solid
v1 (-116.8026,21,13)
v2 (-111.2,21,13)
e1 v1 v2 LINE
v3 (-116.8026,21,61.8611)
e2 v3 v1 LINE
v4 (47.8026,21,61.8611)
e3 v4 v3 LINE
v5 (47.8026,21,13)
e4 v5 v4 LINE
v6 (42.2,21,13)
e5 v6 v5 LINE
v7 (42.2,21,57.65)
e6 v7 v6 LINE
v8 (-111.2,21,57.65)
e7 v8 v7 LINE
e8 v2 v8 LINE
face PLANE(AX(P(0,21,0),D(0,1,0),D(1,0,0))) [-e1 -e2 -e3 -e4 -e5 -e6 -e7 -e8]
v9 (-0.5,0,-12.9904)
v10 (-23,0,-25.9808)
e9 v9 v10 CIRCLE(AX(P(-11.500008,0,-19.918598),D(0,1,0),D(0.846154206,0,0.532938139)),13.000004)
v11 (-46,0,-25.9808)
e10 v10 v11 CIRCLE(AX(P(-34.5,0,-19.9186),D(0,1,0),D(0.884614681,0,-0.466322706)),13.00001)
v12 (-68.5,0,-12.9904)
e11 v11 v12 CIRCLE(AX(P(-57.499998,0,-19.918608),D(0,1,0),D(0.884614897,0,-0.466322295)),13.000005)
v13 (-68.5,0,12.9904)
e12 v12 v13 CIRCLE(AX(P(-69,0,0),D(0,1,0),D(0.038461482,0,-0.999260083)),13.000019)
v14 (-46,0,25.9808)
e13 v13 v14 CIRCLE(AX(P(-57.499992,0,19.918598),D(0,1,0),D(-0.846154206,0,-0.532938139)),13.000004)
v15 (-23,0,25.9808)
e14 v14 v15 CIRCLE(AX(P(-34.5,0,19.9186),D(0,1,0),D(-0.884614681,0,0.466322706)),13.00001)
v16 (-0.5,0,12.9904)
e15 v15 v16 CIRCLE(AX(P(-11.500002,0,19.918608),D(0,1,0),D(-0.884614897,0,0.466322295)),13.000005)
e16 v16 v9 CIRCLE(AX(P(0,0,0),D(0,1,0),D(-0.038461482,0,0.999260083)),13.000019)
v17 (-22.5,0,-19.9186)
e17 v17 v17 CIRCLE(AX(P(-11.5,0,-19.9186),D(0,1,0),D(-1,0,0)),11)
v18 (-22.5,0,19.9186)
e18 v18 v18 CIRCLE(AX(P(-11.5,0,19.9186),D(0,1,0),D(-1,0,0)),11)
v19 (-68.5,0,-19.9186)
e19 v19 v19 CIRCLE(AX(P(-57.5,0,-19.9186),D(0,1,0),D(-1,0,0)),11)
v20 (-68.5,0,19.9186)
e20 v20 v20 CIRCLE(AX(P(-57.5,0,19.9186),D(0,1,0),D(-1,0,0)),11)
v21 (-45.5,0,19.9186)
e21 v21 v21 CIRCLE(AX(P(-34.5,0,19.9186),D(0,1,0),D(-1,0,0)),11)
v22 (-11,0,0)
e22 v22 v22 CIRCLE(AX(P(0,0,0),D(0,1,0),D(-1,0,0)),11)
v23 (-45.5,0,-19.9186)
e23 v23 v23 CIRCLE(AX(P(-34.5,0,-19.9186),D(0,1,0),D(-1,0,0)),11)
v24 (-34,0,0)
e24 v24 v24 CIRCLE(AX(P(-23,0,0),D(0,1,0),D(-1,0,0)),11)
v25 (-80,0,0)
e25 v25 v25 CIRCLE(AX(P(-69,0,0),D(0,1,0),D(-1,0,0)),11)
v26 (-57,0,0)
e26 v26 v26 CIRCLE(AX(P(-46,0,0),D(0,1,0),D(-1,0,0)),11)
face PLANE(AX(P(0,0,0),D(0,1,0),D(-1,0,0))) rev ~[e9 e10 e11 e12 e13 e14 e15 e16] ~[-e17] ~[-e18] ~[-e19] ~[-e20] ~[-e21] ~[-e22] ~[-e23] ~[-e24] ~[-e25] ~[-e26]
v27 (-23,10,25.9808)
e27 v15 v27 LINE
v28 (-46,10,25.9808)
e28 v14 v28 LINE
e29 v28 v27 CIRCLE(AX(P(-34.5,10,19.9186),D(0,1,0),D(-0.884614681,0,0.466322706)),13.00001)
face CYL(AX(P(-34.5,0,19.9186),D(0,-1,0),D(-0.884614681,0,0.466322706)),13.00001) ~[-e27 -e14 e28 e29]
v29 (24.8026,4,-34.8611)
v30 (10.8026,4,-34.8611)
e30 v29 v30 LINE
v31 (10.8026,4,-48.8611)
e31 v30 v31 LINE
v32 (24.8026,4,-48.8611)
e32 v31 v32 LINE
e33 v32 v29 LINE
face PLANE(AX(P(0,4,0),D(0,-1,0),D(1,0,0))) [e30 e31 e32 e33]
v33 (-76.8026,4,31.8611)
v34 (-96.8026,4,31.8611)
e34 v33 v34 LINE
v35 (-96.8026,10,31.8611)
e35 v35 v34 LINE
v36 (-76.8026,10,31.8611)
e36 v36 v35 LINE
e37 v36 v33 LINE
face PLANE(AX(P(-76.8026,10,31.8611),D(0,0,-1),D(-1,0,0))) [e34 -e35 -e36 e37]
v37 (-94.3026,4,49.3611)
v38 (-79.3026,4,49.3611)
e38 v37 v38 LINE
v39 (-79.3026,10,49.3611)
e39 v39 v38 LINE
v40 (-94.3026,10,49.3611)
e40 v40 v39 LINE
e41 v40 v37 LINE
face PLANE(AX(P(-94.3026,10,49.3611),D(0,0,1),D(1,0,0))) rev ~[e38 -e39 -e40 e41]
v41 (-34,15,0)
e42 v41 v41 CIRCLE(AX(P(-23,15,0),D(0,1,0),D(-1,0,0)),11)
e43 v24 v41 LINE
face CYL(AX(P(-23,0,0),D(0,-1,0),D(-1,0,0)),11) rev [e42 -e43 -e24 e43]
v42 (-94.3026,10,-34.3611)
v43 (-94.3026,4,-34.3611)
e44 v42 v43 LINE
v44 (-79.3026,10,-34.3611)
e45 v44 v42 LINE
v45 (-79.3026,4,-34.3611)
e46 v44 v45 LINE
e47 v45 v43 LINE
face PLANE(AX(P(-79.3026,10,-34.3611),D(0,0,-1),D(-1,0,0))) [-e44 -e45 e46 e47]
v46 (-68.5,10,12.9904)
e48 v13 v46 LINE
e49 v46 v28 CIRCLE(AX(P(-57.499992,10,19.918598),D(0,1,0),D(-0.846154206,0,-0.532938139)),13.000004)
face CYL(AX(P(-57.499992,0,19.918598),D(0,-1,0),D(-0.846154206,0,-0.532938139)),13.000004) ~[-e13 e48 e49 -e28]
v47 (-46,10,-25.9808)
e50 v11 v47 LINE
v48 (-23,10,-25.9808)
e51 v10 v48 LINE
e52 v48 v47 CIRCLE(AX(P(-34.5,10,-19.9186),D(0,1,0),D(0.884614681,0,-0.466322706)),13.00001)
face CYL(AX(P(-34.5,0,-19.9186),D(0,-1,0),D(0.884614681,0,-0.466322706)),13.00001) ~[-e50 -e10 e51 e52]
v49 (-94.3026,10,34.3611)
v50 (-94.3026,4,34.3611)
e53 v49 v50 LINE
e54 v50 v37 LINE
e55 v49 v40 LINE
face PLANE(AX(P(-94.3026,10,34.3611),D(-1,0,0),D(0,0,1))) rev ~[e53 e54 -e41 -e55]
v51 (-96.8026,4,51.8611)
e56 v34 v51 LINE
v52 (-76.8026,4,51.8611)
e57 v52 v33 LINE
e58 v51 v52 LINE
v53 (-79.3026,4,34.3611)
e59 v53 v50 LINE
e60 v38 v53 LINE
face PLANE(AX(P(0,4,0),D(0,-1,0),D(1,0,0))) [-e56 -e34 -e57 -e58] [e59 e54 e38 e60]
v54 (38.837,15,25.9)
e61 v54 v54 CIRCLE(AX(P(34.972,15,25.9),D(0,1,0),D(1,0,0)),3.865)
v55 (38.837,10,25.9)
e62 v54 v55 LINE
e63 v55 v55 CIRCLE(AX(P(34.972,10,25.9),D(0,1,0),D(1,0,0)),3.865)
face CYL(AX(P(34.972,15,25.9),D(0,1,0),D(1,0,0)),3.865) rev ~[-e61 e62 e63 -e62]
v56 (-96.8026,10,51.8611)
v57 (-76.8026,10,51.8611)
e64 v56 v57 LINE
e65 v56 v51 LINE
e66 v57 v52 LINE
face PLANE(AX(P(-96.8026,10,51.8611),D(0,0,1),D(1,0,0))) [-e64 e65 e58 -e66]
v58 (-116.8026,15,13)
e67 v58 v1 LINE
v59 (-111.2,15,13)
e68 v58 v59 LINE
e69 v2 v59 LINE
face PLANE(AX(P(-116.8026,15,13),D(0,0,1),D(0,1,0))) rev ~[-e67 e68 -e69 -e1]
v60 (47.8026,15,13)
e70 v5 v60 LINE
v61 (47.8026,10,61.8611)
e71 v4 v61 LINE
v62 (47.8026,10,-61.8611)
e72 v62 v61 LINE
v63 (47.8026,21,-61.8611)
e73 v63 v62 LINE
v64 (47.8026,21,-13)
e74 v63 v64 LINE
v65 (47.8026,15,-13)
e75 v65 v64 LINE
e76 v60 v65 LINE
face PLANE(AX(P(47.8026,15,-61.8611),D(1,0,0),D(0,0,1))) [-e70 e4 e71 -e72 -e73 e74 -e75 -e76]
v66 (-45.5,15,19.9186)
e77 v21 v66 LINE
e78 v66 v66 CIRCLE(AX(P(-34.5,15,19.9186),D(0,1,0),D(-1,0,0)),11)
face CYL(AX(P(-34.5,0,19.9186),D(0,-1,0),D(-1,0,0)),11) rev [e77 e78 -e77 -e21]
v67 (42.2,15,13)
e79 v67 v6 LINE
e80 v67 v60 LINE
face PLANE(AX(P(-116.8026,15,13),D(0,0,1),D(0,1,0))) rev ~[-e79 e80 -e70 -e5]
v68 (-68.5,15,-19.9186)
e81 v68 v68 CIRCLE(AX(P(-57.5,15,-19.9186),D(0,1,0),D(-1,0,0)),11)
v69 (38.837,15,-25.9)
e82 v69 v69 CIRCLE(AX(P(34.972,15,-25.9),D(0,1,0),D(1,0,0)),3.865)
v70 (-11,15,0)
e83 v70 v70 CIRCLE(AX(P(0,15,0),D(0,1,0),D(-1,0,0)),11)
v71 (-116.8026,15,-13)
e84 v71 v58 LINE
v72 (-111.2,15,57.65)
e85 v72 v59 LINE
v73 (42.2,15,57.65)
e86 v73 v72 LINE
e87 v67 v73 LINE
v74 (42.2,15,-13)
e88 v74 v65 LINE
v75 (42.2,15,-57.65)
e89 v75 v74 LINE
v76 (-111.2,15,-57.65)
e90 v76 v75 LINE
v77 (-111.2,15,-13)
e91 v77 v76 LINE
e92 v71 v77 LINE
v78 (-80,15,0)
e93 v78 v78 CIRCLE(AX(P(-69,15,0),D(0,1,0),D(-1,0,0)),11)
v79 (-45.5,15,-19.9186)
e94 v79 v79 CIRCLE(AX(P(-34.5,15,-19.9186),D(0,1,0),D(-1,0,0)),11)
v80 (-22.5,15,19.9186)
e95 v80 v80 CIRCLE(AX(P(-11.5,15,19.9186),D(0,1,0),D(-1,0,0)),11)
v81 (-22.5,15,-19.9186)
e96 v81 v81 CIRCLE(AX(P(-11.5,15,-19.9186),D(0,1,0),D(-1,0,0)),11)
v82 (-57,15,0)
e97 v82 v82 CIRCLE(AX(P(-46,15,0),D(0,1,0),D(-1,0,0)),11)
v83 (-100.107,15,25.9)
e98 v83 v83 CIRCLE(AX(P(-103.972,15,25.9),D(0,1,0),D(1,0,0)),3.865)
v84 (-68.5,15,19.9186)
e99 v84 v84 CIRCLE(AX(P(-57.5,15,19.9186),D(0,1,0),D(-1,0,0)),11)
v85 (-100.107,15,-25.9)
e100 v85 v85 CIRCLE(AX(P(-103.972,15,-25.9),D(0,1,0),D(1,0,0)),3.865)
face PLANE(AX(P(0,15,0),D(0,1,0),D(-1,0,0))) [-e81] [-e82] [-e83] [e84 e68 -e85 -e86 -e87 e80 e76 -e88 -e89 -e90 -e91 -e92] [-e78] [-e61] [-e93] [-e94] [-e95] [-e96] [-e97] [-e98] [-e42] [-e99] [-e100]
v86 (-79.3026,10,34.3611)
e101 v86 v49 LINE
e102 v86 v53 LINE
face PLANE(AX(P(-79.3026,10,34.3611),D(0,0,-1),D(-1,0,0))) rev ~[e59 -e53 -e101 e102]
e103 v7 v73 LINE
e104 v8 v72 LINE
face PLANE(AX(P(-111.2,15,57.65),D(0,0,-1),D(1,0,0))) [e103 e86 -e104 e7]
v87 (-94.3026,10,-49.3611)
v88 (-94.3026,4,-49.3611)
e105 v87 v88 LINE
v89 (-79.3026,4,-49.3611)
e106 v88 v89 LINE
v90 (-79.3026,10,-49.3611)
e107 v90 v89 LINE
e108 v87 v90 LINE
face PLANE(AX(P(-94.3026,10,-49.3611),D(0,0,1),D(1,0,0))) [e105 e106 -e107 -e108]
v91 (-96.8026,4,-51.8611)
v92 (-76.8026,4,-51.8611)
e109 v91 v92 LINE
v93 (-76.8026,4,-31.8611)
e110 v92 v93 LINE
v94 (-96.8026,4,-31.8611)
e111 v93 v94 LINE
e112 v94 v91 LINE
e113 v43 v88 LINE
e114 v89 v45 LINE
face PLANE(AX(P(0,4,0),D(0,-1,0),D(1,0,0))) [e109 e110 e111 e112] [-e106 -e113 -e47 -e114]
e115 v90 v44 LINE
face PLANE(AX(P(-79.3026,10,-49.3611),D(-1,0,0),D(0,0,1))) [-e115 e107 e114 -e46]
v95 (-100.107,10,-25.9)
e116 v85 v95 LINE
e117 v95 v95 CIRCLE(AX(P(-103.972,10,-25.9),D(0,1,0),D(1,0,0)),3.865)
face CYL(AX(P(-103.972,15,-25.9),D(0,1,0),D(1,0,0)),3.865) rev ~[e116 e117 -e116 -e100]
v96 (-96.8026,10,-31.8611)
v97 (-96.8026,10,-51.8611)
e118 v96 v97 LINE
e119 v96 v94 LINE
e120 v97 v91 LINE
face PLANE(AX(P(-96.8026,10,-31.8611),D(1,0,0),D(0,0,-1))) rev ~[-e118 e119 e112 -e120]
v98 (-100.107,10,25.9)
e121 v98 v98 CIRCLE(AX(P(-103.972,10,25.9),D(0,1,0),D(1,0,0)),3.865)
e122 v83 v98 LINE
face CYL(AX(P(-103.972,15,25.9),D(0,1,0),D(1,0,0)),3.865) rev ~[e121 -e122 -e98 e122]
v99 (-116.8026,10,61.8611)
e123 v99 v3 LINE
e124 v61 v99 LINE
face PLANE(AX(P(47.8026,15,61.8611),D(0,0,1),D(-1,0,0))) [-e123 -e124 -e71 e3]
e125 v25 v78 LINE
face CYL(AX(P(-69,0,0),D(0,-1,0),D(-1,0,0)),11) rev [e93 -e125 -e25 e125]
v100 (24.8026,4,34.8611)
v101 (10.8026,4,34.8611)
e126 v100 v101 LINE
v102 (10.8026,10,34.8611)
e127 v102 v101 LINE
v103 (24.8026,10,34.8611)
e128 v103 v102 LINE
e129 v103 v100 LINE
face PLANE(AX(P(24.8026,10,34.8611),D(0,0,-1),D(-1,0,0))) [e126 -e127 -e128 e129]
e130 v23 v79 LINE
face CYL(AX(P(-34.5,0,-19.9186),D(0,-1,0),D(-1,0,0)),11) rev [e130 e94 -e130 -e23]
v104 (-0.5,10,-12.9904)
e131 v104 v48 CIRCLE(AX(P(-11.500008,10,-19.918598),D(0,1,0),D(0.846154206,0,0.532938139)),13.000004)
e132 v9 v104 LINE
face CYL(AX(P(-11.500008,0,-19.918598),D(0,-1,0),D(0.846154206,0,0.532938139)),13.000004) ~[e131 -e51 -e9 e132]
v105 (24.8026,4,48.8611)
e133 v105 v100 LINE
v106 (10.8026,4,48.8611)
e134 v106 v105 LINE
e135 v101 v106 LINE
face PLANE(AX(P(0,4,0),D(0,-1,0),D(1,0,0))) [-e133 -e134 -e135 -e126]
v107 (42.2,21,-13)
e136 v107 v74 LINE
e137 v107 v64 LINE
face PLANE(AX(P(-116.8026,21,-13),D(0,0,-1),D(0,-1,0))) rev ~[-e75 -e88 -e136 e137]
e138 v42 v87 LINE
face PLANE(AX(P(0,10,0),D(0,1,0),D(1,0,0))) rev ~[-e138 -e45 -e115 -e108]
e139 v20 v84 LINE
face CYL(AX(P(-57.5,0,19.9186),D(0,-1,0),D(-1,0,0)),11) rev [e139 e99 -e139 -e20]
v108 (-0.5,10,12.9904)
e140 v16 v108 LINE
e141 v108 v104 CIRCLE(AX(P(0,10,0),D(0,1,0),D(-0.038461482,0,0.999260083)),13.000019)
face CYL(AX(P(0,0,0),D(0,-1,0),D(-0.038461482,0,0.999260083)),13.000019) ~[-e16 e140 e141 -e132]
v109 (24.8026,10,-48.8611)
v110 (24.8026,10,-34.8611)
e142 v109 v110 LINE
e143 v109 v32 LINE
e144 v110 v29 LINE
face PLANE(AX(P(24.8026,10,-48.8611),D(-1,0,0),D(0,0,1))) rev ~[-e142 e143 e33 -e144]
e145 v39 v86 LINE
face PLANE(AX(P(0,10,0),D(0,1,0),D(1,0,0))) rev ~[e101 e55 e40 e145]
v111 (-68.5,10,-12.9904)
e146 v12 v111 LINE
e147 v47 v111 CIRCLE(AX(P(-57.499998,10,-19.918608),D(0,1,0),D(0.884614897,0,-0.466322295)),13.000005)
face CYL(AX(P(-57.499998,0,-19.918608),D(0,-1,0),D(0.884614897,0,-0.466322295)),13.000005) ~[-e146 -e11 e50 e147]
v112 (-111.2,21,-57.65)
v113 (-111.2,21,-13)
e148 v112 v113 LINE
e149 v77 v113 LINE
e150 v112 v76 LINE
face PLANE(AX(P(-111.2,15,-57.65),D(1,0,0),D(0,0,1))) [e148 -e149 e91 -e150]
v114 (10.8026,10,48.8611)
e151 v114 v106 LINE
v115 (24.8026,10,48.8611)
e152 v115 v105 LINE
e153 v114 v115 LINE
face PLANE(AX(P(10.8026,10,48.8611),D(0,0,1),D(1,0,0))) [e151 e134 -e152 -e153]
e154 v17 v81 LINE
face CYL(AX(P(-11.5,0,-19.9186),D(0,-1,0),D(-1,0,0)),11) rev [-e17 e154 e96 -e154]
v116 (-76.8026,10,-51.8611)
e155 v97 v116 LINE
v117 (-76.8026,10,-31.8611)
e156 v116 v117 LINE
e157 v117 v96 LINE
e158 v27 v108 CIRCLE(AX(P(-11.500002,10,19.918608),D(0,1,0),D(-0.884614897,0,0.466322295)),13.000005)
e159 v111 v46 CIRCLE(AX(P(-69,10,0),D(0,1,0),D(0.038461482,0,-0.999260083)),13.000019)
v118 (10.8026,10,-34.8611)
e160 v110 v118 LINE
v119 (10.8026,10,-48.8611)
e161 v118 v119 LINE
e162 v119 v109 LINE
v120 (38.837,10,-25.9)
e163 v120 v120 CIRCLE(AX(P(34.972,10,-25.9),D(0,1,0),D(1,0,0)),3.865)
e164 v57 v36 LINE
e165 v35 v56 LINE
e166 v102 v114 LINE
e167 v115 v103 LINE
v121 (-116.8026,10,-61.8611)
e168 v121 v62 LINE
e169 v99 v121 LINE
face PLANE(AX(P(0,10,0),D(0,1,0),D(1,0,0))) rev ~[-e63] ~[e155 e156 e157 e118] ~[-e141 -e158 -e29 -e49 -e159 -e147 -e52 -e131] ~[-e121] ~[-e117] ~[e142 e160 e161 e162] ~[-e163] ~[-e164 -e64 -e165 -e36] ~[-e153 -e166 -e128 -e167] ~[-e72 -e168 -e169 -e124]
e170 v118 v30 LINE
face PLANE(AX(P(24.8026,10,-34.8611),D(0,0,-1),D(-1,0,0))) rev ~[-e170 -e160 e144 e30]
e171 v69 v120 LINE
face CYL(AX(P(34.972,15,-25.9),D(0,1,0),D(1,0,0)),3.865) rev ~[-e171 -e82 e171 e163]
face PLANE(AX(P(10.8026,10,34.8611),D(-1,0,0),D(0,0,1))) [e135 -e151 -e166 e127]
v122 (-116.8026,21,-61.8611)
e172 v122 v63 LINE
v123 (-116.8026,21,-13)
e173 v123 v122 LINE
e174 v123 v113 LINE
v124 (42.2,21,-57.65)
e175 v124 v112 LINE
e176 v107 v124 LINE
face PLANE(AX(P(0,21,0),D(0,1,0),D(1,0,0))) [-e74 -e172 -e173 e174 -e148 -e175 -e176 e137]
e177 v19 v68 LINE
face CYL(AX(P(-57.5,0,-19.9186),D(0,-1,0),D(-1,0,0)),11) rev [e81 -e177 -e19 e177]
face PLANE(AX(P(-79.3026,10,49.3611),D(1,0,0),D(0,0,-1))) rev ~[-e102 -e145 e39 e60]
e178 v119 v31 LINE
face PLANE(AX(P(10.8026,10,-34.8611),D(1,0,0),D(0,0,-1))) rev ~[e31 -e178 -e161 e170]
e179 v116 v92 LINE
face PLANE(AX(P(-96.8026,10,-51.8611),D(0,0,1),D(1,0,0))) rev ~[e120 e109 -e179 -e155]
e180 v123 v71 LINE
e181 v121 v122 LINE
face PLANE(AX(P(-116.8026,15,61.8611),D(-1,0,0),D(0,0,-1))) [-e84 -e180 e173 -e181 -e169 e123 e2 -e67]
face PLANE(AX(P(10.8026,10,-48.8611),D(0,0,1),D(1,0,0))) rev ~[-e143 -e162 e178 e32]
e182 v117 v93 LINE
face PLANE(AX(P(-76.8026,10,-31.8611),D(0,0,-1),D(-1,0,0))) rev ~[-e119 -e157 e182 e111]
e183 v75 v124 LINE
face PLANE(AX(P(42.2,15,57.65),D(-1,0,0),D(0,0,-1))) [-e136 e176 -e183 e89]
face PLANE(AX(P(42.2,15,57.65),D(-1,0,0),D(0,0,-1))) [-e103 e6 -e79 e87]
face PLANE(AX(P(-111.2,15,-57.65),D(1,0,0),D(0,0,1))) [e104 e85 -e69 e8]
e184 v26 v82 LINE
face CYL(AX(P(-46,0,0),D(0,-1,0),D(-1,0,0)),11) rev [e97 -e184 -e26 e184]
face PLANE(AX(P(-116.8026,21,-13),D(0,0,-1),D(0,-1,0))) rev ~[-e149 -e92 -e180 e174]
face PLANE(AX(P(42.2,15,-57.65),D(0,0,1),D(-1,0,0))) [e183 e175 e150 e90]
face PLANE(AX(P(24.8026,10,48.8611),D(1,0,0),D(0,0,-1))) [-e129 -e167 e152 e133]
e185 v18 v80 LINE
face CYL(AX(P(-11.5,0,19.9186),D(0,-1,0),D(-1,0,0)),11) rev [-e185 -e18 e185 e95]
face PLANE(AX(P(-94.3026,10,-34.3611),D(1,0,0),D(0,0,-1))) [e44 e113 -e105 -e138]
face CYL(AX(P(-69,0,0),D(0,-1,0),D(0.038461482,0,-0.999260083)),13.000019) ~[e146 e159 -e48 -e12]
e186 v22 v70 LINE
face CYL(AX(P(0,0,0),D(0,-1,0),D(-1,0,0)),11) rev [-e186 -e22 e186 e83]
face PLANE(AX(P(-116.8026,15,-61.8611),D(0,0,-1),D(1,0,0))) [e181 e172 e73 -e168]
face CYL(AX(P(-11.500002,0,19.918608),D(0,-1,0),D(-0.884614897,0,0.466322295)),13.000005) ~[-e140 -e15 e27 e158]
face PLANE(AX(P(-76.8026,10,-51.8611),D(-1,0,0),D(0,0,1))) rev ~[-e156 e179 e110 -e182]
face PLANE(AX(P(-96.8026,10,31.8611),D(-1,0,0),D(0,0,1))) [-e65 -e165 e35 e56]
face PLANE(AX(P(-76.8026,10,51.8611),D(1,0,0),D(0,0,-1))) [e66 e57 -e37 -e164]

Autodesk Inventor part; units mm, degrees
ref_plane "YZ Plane" through (0, 0, 0) normal (1, 0, 0) x (0, 1, 0)
ref_plane "XZ Plane" through (0, 0, 0) normal (0, 1, 0) x (-1, 0, 0)
ref_plane "XY Plane" through (0, 0, 0) normal (0, 0, 1) x (1, 0, 0)
sketch "Sketch1" plane through (0, 0, 0) normal (0, 1, 0) x (-1, 0, 0)
  circle A0 centre (0, 0) radius 11
  line L0 (11, 0.0002) -> (12, 0.0002) construction
  circle A1 centre (23, 0) radius 11
  line L1 (34, 0) -> (35, 0) construction
  circle A2 centre (46, 0) radius 11
  line L2 (57, 0) -> (58, 0) construction
  circle A3 centre (69, 0) radius 11
  line L3 (34.5, 0) -> (34.5, -17.154) construction
  line L4 (34.5, 0) -> (34.5, 17.658) construction
  line L5 (55, 12.6387) -> (55, -13.5831) construction
  line L6 (55, 12.6387) -> (55, 17.658) construction
  line L7 (55, -13.5831) -> (55, -17.154) construction
  line L8 (11.5, 0.0002) -> (11.5, -16.2579) construction
  line L9 (11.5, 0.0002) -> (11.5, 19.9186) construction
  circle A4 centre (0, 0) radius 12 construction
  circle A5 centre (23, 0) radius 12 construction
  circle A6 centre (46, 0) radius 12 construction
  circle A7 centre (69, 0) radius 12 construction
  circle A8 centre (11.5, 19.9186) radius 11
  circle A9 centre (34.5, 19.9186) radius 11
  circle A10 centre (11.5, -19.9186) radius 11
  circle A11 centre (57.5, 19.9186) radius 11
  circle A12 centre (57.5, -19.9186) radius 12 construction
  circle A13 centre (34.5, -19.9186) radius 12 construction
  circle A14 centre (11.5, 19.9186) radius 12 construction
  circle A15 centre (34.5, 19.9186) radius 12 construction
  circle A16 centre (57.5, 19.9186) radius 12 construction
  line L10 (11.5, 19.9186) -> (57.5, 19.9186) construction
  arc A17 (2.3131, -12.7926) -> (0.5, -12.9904) centre (0, 0) ccw construction
  circle A18 centre (11.5, 19.9186) radius 13 construction
  circle A19 centre (34.5, 19.9186) radius 13 construction
  circle A20 centre (57.5, 19.9186) radius 13 construction
  circle A21 centre (69, 0) radius 13 construction
  circle A22 centre (57.5, -19.9186) radius 13 construction
  circle A23 centre (34.5, -19.9186) radius 13 construction
  arc A24 (0.5, 12.9904) -> (0.5, -12.9904) centre (0, 0) ccw
  line L11 (57.5, -19.9186) -> (11.5, -19.9186) construction
  circle A25 centre (11.5, -19.9186) radius 13 construction
  arc A26 (0.5, -12.9904) -> (23, -25.9808) centre (11.5, -19.9186) ccw
  arc A27 (23, -25.9808) -> (46, -25.9808) centre (34.5, -19.9186) ccw
  arc A28 (46, -25.9808) -> (68.5, -12.9904) centre (57.5, -19.9186) ccw
  arc A29 (68.5, -12.9904) -> (68.5, 12.9904) centre (69, 0) ccw
  arc A30 (68.5, 12.9904) -> (46, 25.9808) centre (57.5, 19.9186) ccw
  arc A31 (46, 25.9808) -> (23, 25.9808) centre (34.5, 19.9186) ccw
  arc A32 (23, 25.9808) -> (0.5, 12.9904) centre (11.5, 19.9186) ccw
  circle A33 centre (11.5, -19.9186) radius 12 construction
  circle A34 centre (34.5, -19.9186) radius 11
  circle A35 centre (57.5, -19.9186) radius 11
  dimension "d0" = 22
  dimension "d6" = 22
  dimension "d1" = 1
  dimension "d2" = 22
  dimension "d3" = 1
  dimension "d4" = 22
  dimension "d5" = 1
  dimension "d7" = 24
  dimension "d8" = 24
  dimension "d9" = 24
  dimension "d10" = 24
  dimension "d11" = 22
  dimension "d12" = 22
  dimension "d16" = 22
  dimension "d17" = 22
  dimension "d19" = 24
  dimension "d21" = 24
  dimension "d22" = 24
  dimension "d23" = 24
  dimension "d25" = 26
  dimension "d27" = 26
  dimension "d28" = 26
  dimension "d29" = 26
  dimension "d30" = 26
  dimension "d31" = 26
  dimension "d32" = 26
  dimension "d33" = 26
  dimension "d67" = 24
  dimension "d71" = 24
  dimension "d72" = 22
  dimension "d73" = 22
extrude "Extrusion1" add sketch "Sketch1" along normal blind 15
sketch "Sketch2" plane through (0, 15, 0) normal (0, 1, 0) x (1, 0, 0)
  circle A0 centre (-23, 0) radius 11 projected
  circle A1 centre (-46, 0) radius 11 projected
  line L0 (-35, 0) -> (-34, 0) construction
  line L1 (-111.2, 57.65) -> (42.2, 57.65)
  line L2 (42.2, 57.65) -> (42.2, -57.65)
  line L3 (42.2, -57.65) -> (-111.2, -57.65)
  line L4 (-111.2, -57.65) -> (-111.2, 57.65)
  line L5 (-111.2, 57.65) -> (42.2, -57.65) construction
  line L6 (42.2, 57.65) -> (-111.2, -57.65) construction
  arc A2 (-46, 25.9808) -> (-68.5, 12.9904) centre (-57.5, 19.9186) ccw projected
  arc A3 (-23, 25.9808) -> (-46, 25.9808) centre (-34.5, 19.9186) ccw projected
  arc A4 (-0.5, 12.9904) -> (-23, 25.9808) centre (-11.5, 19.9186) ccw projected
  arc A5 (-0.5, -12.9904) -> (-0.5, 12.9904) centre (0, 0) ccw projected
  arc A6 (-23, -25.9808) -> (-0.5, -12.9904) centre (-11.5, -19.9186) ccw projected
  arc A7 (-46, -25.9808) -> (-23, -25.9808) centre (-34.5, -19.9186) ccw projected
  arc A8 (-68.5, -12.9904) -> (-46, -25.9808) centre (-57.5, -19.9186) ccw projected
  arc A9 (-68.5, 12.9904) -> (-68.5, -12.9904) centre (-69, 0) ccw projected
  arc A10 (-69, 13) -> (-68.5, -12.9904) centre (-69, 0) ccw
  arc A11 (-46, 25.9808) -> (-68.5, 12.9904) centre (-57.5, 19.9186) ccw
  arc A12 (-23, 25.9808) -> (-46, 25.9808) centre (-34.5, 19.9186) ccw
  arc A13 (-0.5, 12.9904) -> (-23, 25.9808) centre (-11.5, 19.9186) ccw
  arc A14 (-0.5, -12.9904) -> (-0.5, 12.9904) centre (0, 0) ccw
  arc A15 (-23, -25.9808) -> (-0.5, -12.9904) centre (-11.5, -19.9186) ccw
  arc A16 (-46, -25.9808) -> (-23, -25.9808) centre (-34.5, -19.9186) ccw
  arc A17 (-68.5, -12.9904) -> (-46, -25.9808) centre (-57.5, -19.9186) ccw
  arc A18 (-68.5, 12.9904) -> (-68.5, -12.9904) centre (-69, 0) ccw
  point P0 (-34.5, 0)
  dimension "d36" = 115.3
  dimension "d37" = 153.4
extrude "Extrusion2" add sketch "Sketch2" against normal blind 5 contours L1 L2 L3 L4
sketch "Sketch3" plane through (0, 15, 0) normal (0, 1, 0) x (1, 0, 0)
  line L0 (42.2, 57.65) -> (-111.2, 57.65) projected
  line L1 (42.2, -57.65) -> (42.2, 57.65) projected
  line L2 (-111.2, -57.65) -> (42.2, -57.65) projected
  line L3 (-111.2, 57.65) -> (-111.2, -57.65) projected
  line L4 (-111.2, -57.65) -> (42.2, -57.65) projected
  line L5 (42.2, -57.65) -> (42.2, 57.65) projected
  line L6 (42.2, 57.65) -> (-111.2, 57.65) projected
  line L7 (-111.2, 57.65) -> (-111.2, -57.65) projected
  circle A0 centre (-57.5, -19.9186) radius 11 projected
  circle A1 centre (-11.5, 19.9186) radius 11 projected
  circle A2 centre (-34.5, -19.9186) radius 11 projected
  circle A3 centre (-11.5, -19.9186) radius 11 projected
  circle A4 centre (-69, 0) radius 11 projected
  circle A5 centre (-46, 0) radius 11 projected
  circle A6 centre (-23, 0) radius 11 projected
  circle A7 centre (0, 0) radius 11 projected
  line L8 (-116.8026, 61.8611) -> (47.8026, 61.8611)
  line L9 (47.8026, 61.8611) -> (47.8026, -61.8611)
  line L10 (47.8026, -61.8611) -> (-116.8026, -61.8611)
  line L11 (-116.8026, -61.8611) -> (-116.8026, 61.8611)
  line L12 (-116.8026, 61.8611) -> (47.8026, -61.8611) construction
  line L13 (47.8026, 61.8611) -> (-116.8026, -61.8611) construction
  line L14 (-111.2, -57.65) -> (42.2, -57.65)
  line L15 (42.2, -57.65) -> (42.2, 57.65)
  line L16 (42.2, 57.65) -> (-111.2, 57.65)
  line L17 (-111.2, 57.65) -> (-111.2, -57.65)
  line L18 (-111.2, -57.65) -> (42.2, 57.65) construction
  line L19 (42.2, -57.65) -> (-111.2, 57.65) construction
  point P0 (-34.5, 0)
extrude "Extrusion3" add sketch "Sketch3" along normal blind 6 and the other way blind 5 contours L8 L9 L10 L11
sketch "Sketch4" plane through (0, 15, 0) normal (0, 1, 0) x (1, 0, 0)
  line L0 (-111.2, -57.65) -> (42.2, -57.65) projected
  line L1 (42.2, -57.65) -> (42.2, 57.65) projected
  line L2 (42.2, 57.65) -> (-111.2, 57.65) projected
  line L3 (-111.2, 57.65) -> (-111.2, -57.65) projected
  circle A0 centre (-57.5, -19.9186) radius 11 projected
  circle A1 centre (-11.5, 19.9186) radius 11 projected
  circle A2 centre (-34.5, -19.9186) radius 11 projected
  circle A3 centre (-11.5, -19.9186) radius 11 projected
  circle A4 centre (-69, 0) radius 11 projected
  circle A5 centre (-46, 0) radius 11 projected
  circle A6 centre (-23, 0) radius 11 projected
  circle A7 centre (0, 0) radius 11 projected
  line L4 (-111.2, 57.65) -> (-103.972, 57.65) construction
  line L5 (-103.972, 57.65) -> (-103.972, 25.9) construction
  line L6 (-103.972, 25.9) -> (-111.2, 25.9) construction
  line L7 (-111.2, 25.9) -> (-111.2, 57.65) construction
  line L8 (42.2, 57.65) -> (34.972, 57.65) construction
  line L9 (34.972, 57.65) -> (34.972, 25.9) construction
  line L10 (34.972, 25.9) -> (42.2, 25.9) construction
  line L11 (42.2, 25.9) -> (42.2, 57.65) construction
  line L12 (-111.2, -57.65) -> (-103.972, -57.65) construction
  line L13 (-103.972, -57.65) -> (-103.972, -25.9) construction
  line L14 (-103.972, -25.9) -> (-111.2, -25.9) construction
  line L15 (-111.2, -25.9) -> (-111.2, -57.65) construction
  line L16 (42.2, -25.9) -> (34.972, -25.9) construction
  line L17 (34.972, -25.9) -> (34.972, -57.65) construction
  line L18 (34.972, -57.65) -> (42.2, -57.65) construction
  line L19 (42.2, -57.65) -> (42.2, -25.9) construction
  circle A8 centre (-103.972, 25.9) radius 3.865
  circle A9 centre (34.972, 25.9) radius 3.865
  circle A10 centre (34.972, -25.9) radius 3.865
  circle A11 centre (-103.972, -25.9) radius 3.865
  dimension "d56" = 7.73
  dimension "d57" = 7.73
  dimension "d58" = 7.73
  dimension "d59" = 7.73
  dimension "d62" = 7.228
  dimension "d63" = 31.75
  dimension "d64" = 7.228
  dimension "d65" = 7.228
  dimension "d66" = 31.75
extrude "Extrusion4" cut sketch "Sketch4" against normal through all contours A8 | A9 | A10 | A11
sketch "Sketch5" plane through (-116.8026, 10, 61.8611) normal (-1, 0, 0) x (0, 0, 1)
  line L0 (-74.8611, -12) -> (-74.8611, -2) projected
  line L1 (-48.8611, -12) -> (-48.8611, -2) projected
  line L2 (-119.5111, 5) -> (-4.2111, 5) projected
  line L3 (-123.7222, 11) -> (0, 11) projected
  line L4 (-74.8611, 5) -> (-48.8611, 5)
  line L5 (-48.8611, 5) -> (-48.8611, 11)
  line L6 (-48.8611, 11) -> (-74.8611, 11)
  line L7 (-74.8611, 11) -> (-74.8611, 5)
  point P0 (-61.8611, -10)
  point P1 (-74.8611, 11)
extrude "Extrusion5" cut sketch "Sketch5" against normal through all
sketch "Sketch6" plane through (0, 10, 0) normal (0, -1, 0) x (1, 0, 0)
  circle A0 centre (34.972, 25.9) radius 3.865 projected
  circle A1 centre (34.972, -25.9) radius 3.865 projected
  circle A2 centre (-103.972, 25.9) radius 3.865 projected
  circle A3 centre (-103.972, -25.9) radius 3.865 projected
  line L0 (47.8026, 61.8611) -> (-116.8026, 61.8611) projected
  line L1 (-116.8026, 61.8611) -> (-116.8026, -61.8611) projected
  line L2 (-116.8026, -61.8611) -> (47.8026, -61.8611) projected
  line L3 (47.8026, -61.8611) -> (47.8026, 61.8611) projected
  arc A4 (-68.5, 12.9904) -> (-68.5, -12.9904) centre (-69, 0) ccw projected
  arc A5 (-46, 25.9808) -> (-68.5, 12.9904) centre (-57.5, 19.9186) ccw projected
  arc A6 (-23, 25.9808) -> (-46, 25.9808) centre (-34.5, 19.9186) ccw projected
  arc A7 (-0.5, 12.9904) -> (-23, 25.9808) centre (-11.5, 19.9186) ccw projected
  arc A8 (-0.5, -12.9904) -> (-0.5, 12.9904) centre (0, 0) ccw projected
  arc A9 (-23, -25.9808) -> (-0.5, -12.9904) centre (-11.5, -19.9186) ccw projected
  arc A10 (-46, -25.9808) -> (-23, -25.9808) centre (-34.5, -19.9186) ccw projected
  arc A11 (-68.5, -12.9904) -> (-46, -25.9808) centre (-57.5, -19.9186) ccw projected
  line L4 (-116.8026, 61.8611) -> (-86.8026, 61.8611) construction
  line L5 (-86.8026, 61.8611) -> (-116.8026, 61.8611) construction
  line L6 (-116.8026, 61.8611) -> (-116.8026, 41.8611) construction
  line L7 (-96.8026, 51.8611) -> (-76.8026, 51.8611)
  line L8 (-76.8026, 51.8611) -> (-76.8026, 31.8611)
  line L9 (-76.8026, 31.8611) -> (-96.8026, 31.8611)
  line L10 (-96.8026, 31.8611) -> (-96.8026, 51.8611)
  line L11 (-96.8026, 51.8611) -> (-76.8026, 31.8611) construction
  line L12 (-76.8026, 51.8611) -> (-96.8026, 31.8611) construction
  line L13 (-94.3026, 49.3611) -> (-79.3026, 49.3611)
  line L14 (-79.3026, 49.3611) -> (-79.3026, 34.3611)
  line L15 (-79.3026, 34.3611) -> (-94.3026, 34.3611)
  line L16 (-94.3026, 34.3611) -> (-94.3026, 49.3611)
  line L17 (-94.3026, 49.3611) -> (-79.3026, 34.3611) construction
  line L18 (-79.3026, 49.3611) -> (-94.3026, 34.3611) construction
  line L19 (-116.8026, 0) -> (47.8026, 0) construction
  line L20 (-96.8026, -51.8611) -> (-76.8026, -51.8611)
  line L21 (-76.8026, -51.8611) -> (-76.8026, -31.8611)
  line L22 (-76.8026, -31.8611) -> (-96.8026, -31.8611)
  line L23 (-96.8026, -31.8611) -> (-96.8026, -51.8611)
  line L24 (-96.8026, -51.8611) -> (-76.8026, -31.8611) construction
  line L25 (-76.8026, -51.8611) -> (-96.8026, -31.8611) construction
  line L26 (-94.3026, -49.3611) -> (-79.3026, -49.3611)
  line L27 (-79.3026, -49.3611) -> (-79.3026, -34.3611)
  line L28 (-79.3026, -34.3611) -> (-94.3026, -34.3611)
  line L29 (-94.3026, -34.3611) -> (-94.3026, -49.3611)
  line L30 (-94.3026, -49.3611) -> (-79.3026, -34.3611) construction
  line L31 (-79.3026, -49.3611) -> (-94.3026, -34.3611) construction
  line L32 (47.8026, 61.8611) -> (17.8026, 61.8611) construction
  line L33 (47.8026, 61.8611) -> (47.8026, 41.8611) construction
  line L34 (10.8026, 48.8611) -> (24.8026, 48.8611)
  line L35 (24.8026, 48.8611) -> (24.8026, 34.8611)
  line L36 (24.8026, 34.8611) -> (10.8026, 34.8611)
  line L37 (10.8026, 34.8611) -> (10.8026, 48.8611)
  line L38 (10.8026, 48.8611) -> (24.8026, 34.8611) construction
  line L39 (24.8026, 48.8611) -> (10.8026, 34.8611) construction
  line L40 (10.8026, -48.8611) -> (24.8026, -48.8611)
  line L41 (24.8026, -48.8611) -> (24.8026, -34.8611)
  line L42 (24.8026, -34.8611) -> (10.8026, -34.8611)
  line L43 (10.8026, -34.8611) -> (10.8026, -48.8611)
  line L44 (10.8026, -48.8611) -> (24.8026, -34.8611) construction
  line L45 (24.8026, -48.8611) -> (10.8026, -34.8611) construction
  point P0 (-86.8026, 41.8611)
  point P1 (-86.8026, 41.8611)
  point P2 (-86.8026, -41.8611)
  point P3 (-86.8026, -41.8611)
  point P4 (17.8026, 41.8611)
  point P5 (17.8026, -41.8611)
  dimension "d76" = 30
  dimension "d77" = 20
  dimension "d78" = 20
  dimension "d79" = 20
  dimension "d80" = 15
  dimension "d81" = 15
  dimension "d82" = 30
  dimension "d83" = 20
  dimension "d84" = 14
  dimension "d85" = 14
extrude "Extrusion6" add sketch "Sketch6" along normal blind 6 contours L7 L8 L9 L10 | L23 L22 L21 L20 | L34 L35 L36 L37 | L43 L42 L41 L40
properties part number "CELLCASE21700_3DPrint"
